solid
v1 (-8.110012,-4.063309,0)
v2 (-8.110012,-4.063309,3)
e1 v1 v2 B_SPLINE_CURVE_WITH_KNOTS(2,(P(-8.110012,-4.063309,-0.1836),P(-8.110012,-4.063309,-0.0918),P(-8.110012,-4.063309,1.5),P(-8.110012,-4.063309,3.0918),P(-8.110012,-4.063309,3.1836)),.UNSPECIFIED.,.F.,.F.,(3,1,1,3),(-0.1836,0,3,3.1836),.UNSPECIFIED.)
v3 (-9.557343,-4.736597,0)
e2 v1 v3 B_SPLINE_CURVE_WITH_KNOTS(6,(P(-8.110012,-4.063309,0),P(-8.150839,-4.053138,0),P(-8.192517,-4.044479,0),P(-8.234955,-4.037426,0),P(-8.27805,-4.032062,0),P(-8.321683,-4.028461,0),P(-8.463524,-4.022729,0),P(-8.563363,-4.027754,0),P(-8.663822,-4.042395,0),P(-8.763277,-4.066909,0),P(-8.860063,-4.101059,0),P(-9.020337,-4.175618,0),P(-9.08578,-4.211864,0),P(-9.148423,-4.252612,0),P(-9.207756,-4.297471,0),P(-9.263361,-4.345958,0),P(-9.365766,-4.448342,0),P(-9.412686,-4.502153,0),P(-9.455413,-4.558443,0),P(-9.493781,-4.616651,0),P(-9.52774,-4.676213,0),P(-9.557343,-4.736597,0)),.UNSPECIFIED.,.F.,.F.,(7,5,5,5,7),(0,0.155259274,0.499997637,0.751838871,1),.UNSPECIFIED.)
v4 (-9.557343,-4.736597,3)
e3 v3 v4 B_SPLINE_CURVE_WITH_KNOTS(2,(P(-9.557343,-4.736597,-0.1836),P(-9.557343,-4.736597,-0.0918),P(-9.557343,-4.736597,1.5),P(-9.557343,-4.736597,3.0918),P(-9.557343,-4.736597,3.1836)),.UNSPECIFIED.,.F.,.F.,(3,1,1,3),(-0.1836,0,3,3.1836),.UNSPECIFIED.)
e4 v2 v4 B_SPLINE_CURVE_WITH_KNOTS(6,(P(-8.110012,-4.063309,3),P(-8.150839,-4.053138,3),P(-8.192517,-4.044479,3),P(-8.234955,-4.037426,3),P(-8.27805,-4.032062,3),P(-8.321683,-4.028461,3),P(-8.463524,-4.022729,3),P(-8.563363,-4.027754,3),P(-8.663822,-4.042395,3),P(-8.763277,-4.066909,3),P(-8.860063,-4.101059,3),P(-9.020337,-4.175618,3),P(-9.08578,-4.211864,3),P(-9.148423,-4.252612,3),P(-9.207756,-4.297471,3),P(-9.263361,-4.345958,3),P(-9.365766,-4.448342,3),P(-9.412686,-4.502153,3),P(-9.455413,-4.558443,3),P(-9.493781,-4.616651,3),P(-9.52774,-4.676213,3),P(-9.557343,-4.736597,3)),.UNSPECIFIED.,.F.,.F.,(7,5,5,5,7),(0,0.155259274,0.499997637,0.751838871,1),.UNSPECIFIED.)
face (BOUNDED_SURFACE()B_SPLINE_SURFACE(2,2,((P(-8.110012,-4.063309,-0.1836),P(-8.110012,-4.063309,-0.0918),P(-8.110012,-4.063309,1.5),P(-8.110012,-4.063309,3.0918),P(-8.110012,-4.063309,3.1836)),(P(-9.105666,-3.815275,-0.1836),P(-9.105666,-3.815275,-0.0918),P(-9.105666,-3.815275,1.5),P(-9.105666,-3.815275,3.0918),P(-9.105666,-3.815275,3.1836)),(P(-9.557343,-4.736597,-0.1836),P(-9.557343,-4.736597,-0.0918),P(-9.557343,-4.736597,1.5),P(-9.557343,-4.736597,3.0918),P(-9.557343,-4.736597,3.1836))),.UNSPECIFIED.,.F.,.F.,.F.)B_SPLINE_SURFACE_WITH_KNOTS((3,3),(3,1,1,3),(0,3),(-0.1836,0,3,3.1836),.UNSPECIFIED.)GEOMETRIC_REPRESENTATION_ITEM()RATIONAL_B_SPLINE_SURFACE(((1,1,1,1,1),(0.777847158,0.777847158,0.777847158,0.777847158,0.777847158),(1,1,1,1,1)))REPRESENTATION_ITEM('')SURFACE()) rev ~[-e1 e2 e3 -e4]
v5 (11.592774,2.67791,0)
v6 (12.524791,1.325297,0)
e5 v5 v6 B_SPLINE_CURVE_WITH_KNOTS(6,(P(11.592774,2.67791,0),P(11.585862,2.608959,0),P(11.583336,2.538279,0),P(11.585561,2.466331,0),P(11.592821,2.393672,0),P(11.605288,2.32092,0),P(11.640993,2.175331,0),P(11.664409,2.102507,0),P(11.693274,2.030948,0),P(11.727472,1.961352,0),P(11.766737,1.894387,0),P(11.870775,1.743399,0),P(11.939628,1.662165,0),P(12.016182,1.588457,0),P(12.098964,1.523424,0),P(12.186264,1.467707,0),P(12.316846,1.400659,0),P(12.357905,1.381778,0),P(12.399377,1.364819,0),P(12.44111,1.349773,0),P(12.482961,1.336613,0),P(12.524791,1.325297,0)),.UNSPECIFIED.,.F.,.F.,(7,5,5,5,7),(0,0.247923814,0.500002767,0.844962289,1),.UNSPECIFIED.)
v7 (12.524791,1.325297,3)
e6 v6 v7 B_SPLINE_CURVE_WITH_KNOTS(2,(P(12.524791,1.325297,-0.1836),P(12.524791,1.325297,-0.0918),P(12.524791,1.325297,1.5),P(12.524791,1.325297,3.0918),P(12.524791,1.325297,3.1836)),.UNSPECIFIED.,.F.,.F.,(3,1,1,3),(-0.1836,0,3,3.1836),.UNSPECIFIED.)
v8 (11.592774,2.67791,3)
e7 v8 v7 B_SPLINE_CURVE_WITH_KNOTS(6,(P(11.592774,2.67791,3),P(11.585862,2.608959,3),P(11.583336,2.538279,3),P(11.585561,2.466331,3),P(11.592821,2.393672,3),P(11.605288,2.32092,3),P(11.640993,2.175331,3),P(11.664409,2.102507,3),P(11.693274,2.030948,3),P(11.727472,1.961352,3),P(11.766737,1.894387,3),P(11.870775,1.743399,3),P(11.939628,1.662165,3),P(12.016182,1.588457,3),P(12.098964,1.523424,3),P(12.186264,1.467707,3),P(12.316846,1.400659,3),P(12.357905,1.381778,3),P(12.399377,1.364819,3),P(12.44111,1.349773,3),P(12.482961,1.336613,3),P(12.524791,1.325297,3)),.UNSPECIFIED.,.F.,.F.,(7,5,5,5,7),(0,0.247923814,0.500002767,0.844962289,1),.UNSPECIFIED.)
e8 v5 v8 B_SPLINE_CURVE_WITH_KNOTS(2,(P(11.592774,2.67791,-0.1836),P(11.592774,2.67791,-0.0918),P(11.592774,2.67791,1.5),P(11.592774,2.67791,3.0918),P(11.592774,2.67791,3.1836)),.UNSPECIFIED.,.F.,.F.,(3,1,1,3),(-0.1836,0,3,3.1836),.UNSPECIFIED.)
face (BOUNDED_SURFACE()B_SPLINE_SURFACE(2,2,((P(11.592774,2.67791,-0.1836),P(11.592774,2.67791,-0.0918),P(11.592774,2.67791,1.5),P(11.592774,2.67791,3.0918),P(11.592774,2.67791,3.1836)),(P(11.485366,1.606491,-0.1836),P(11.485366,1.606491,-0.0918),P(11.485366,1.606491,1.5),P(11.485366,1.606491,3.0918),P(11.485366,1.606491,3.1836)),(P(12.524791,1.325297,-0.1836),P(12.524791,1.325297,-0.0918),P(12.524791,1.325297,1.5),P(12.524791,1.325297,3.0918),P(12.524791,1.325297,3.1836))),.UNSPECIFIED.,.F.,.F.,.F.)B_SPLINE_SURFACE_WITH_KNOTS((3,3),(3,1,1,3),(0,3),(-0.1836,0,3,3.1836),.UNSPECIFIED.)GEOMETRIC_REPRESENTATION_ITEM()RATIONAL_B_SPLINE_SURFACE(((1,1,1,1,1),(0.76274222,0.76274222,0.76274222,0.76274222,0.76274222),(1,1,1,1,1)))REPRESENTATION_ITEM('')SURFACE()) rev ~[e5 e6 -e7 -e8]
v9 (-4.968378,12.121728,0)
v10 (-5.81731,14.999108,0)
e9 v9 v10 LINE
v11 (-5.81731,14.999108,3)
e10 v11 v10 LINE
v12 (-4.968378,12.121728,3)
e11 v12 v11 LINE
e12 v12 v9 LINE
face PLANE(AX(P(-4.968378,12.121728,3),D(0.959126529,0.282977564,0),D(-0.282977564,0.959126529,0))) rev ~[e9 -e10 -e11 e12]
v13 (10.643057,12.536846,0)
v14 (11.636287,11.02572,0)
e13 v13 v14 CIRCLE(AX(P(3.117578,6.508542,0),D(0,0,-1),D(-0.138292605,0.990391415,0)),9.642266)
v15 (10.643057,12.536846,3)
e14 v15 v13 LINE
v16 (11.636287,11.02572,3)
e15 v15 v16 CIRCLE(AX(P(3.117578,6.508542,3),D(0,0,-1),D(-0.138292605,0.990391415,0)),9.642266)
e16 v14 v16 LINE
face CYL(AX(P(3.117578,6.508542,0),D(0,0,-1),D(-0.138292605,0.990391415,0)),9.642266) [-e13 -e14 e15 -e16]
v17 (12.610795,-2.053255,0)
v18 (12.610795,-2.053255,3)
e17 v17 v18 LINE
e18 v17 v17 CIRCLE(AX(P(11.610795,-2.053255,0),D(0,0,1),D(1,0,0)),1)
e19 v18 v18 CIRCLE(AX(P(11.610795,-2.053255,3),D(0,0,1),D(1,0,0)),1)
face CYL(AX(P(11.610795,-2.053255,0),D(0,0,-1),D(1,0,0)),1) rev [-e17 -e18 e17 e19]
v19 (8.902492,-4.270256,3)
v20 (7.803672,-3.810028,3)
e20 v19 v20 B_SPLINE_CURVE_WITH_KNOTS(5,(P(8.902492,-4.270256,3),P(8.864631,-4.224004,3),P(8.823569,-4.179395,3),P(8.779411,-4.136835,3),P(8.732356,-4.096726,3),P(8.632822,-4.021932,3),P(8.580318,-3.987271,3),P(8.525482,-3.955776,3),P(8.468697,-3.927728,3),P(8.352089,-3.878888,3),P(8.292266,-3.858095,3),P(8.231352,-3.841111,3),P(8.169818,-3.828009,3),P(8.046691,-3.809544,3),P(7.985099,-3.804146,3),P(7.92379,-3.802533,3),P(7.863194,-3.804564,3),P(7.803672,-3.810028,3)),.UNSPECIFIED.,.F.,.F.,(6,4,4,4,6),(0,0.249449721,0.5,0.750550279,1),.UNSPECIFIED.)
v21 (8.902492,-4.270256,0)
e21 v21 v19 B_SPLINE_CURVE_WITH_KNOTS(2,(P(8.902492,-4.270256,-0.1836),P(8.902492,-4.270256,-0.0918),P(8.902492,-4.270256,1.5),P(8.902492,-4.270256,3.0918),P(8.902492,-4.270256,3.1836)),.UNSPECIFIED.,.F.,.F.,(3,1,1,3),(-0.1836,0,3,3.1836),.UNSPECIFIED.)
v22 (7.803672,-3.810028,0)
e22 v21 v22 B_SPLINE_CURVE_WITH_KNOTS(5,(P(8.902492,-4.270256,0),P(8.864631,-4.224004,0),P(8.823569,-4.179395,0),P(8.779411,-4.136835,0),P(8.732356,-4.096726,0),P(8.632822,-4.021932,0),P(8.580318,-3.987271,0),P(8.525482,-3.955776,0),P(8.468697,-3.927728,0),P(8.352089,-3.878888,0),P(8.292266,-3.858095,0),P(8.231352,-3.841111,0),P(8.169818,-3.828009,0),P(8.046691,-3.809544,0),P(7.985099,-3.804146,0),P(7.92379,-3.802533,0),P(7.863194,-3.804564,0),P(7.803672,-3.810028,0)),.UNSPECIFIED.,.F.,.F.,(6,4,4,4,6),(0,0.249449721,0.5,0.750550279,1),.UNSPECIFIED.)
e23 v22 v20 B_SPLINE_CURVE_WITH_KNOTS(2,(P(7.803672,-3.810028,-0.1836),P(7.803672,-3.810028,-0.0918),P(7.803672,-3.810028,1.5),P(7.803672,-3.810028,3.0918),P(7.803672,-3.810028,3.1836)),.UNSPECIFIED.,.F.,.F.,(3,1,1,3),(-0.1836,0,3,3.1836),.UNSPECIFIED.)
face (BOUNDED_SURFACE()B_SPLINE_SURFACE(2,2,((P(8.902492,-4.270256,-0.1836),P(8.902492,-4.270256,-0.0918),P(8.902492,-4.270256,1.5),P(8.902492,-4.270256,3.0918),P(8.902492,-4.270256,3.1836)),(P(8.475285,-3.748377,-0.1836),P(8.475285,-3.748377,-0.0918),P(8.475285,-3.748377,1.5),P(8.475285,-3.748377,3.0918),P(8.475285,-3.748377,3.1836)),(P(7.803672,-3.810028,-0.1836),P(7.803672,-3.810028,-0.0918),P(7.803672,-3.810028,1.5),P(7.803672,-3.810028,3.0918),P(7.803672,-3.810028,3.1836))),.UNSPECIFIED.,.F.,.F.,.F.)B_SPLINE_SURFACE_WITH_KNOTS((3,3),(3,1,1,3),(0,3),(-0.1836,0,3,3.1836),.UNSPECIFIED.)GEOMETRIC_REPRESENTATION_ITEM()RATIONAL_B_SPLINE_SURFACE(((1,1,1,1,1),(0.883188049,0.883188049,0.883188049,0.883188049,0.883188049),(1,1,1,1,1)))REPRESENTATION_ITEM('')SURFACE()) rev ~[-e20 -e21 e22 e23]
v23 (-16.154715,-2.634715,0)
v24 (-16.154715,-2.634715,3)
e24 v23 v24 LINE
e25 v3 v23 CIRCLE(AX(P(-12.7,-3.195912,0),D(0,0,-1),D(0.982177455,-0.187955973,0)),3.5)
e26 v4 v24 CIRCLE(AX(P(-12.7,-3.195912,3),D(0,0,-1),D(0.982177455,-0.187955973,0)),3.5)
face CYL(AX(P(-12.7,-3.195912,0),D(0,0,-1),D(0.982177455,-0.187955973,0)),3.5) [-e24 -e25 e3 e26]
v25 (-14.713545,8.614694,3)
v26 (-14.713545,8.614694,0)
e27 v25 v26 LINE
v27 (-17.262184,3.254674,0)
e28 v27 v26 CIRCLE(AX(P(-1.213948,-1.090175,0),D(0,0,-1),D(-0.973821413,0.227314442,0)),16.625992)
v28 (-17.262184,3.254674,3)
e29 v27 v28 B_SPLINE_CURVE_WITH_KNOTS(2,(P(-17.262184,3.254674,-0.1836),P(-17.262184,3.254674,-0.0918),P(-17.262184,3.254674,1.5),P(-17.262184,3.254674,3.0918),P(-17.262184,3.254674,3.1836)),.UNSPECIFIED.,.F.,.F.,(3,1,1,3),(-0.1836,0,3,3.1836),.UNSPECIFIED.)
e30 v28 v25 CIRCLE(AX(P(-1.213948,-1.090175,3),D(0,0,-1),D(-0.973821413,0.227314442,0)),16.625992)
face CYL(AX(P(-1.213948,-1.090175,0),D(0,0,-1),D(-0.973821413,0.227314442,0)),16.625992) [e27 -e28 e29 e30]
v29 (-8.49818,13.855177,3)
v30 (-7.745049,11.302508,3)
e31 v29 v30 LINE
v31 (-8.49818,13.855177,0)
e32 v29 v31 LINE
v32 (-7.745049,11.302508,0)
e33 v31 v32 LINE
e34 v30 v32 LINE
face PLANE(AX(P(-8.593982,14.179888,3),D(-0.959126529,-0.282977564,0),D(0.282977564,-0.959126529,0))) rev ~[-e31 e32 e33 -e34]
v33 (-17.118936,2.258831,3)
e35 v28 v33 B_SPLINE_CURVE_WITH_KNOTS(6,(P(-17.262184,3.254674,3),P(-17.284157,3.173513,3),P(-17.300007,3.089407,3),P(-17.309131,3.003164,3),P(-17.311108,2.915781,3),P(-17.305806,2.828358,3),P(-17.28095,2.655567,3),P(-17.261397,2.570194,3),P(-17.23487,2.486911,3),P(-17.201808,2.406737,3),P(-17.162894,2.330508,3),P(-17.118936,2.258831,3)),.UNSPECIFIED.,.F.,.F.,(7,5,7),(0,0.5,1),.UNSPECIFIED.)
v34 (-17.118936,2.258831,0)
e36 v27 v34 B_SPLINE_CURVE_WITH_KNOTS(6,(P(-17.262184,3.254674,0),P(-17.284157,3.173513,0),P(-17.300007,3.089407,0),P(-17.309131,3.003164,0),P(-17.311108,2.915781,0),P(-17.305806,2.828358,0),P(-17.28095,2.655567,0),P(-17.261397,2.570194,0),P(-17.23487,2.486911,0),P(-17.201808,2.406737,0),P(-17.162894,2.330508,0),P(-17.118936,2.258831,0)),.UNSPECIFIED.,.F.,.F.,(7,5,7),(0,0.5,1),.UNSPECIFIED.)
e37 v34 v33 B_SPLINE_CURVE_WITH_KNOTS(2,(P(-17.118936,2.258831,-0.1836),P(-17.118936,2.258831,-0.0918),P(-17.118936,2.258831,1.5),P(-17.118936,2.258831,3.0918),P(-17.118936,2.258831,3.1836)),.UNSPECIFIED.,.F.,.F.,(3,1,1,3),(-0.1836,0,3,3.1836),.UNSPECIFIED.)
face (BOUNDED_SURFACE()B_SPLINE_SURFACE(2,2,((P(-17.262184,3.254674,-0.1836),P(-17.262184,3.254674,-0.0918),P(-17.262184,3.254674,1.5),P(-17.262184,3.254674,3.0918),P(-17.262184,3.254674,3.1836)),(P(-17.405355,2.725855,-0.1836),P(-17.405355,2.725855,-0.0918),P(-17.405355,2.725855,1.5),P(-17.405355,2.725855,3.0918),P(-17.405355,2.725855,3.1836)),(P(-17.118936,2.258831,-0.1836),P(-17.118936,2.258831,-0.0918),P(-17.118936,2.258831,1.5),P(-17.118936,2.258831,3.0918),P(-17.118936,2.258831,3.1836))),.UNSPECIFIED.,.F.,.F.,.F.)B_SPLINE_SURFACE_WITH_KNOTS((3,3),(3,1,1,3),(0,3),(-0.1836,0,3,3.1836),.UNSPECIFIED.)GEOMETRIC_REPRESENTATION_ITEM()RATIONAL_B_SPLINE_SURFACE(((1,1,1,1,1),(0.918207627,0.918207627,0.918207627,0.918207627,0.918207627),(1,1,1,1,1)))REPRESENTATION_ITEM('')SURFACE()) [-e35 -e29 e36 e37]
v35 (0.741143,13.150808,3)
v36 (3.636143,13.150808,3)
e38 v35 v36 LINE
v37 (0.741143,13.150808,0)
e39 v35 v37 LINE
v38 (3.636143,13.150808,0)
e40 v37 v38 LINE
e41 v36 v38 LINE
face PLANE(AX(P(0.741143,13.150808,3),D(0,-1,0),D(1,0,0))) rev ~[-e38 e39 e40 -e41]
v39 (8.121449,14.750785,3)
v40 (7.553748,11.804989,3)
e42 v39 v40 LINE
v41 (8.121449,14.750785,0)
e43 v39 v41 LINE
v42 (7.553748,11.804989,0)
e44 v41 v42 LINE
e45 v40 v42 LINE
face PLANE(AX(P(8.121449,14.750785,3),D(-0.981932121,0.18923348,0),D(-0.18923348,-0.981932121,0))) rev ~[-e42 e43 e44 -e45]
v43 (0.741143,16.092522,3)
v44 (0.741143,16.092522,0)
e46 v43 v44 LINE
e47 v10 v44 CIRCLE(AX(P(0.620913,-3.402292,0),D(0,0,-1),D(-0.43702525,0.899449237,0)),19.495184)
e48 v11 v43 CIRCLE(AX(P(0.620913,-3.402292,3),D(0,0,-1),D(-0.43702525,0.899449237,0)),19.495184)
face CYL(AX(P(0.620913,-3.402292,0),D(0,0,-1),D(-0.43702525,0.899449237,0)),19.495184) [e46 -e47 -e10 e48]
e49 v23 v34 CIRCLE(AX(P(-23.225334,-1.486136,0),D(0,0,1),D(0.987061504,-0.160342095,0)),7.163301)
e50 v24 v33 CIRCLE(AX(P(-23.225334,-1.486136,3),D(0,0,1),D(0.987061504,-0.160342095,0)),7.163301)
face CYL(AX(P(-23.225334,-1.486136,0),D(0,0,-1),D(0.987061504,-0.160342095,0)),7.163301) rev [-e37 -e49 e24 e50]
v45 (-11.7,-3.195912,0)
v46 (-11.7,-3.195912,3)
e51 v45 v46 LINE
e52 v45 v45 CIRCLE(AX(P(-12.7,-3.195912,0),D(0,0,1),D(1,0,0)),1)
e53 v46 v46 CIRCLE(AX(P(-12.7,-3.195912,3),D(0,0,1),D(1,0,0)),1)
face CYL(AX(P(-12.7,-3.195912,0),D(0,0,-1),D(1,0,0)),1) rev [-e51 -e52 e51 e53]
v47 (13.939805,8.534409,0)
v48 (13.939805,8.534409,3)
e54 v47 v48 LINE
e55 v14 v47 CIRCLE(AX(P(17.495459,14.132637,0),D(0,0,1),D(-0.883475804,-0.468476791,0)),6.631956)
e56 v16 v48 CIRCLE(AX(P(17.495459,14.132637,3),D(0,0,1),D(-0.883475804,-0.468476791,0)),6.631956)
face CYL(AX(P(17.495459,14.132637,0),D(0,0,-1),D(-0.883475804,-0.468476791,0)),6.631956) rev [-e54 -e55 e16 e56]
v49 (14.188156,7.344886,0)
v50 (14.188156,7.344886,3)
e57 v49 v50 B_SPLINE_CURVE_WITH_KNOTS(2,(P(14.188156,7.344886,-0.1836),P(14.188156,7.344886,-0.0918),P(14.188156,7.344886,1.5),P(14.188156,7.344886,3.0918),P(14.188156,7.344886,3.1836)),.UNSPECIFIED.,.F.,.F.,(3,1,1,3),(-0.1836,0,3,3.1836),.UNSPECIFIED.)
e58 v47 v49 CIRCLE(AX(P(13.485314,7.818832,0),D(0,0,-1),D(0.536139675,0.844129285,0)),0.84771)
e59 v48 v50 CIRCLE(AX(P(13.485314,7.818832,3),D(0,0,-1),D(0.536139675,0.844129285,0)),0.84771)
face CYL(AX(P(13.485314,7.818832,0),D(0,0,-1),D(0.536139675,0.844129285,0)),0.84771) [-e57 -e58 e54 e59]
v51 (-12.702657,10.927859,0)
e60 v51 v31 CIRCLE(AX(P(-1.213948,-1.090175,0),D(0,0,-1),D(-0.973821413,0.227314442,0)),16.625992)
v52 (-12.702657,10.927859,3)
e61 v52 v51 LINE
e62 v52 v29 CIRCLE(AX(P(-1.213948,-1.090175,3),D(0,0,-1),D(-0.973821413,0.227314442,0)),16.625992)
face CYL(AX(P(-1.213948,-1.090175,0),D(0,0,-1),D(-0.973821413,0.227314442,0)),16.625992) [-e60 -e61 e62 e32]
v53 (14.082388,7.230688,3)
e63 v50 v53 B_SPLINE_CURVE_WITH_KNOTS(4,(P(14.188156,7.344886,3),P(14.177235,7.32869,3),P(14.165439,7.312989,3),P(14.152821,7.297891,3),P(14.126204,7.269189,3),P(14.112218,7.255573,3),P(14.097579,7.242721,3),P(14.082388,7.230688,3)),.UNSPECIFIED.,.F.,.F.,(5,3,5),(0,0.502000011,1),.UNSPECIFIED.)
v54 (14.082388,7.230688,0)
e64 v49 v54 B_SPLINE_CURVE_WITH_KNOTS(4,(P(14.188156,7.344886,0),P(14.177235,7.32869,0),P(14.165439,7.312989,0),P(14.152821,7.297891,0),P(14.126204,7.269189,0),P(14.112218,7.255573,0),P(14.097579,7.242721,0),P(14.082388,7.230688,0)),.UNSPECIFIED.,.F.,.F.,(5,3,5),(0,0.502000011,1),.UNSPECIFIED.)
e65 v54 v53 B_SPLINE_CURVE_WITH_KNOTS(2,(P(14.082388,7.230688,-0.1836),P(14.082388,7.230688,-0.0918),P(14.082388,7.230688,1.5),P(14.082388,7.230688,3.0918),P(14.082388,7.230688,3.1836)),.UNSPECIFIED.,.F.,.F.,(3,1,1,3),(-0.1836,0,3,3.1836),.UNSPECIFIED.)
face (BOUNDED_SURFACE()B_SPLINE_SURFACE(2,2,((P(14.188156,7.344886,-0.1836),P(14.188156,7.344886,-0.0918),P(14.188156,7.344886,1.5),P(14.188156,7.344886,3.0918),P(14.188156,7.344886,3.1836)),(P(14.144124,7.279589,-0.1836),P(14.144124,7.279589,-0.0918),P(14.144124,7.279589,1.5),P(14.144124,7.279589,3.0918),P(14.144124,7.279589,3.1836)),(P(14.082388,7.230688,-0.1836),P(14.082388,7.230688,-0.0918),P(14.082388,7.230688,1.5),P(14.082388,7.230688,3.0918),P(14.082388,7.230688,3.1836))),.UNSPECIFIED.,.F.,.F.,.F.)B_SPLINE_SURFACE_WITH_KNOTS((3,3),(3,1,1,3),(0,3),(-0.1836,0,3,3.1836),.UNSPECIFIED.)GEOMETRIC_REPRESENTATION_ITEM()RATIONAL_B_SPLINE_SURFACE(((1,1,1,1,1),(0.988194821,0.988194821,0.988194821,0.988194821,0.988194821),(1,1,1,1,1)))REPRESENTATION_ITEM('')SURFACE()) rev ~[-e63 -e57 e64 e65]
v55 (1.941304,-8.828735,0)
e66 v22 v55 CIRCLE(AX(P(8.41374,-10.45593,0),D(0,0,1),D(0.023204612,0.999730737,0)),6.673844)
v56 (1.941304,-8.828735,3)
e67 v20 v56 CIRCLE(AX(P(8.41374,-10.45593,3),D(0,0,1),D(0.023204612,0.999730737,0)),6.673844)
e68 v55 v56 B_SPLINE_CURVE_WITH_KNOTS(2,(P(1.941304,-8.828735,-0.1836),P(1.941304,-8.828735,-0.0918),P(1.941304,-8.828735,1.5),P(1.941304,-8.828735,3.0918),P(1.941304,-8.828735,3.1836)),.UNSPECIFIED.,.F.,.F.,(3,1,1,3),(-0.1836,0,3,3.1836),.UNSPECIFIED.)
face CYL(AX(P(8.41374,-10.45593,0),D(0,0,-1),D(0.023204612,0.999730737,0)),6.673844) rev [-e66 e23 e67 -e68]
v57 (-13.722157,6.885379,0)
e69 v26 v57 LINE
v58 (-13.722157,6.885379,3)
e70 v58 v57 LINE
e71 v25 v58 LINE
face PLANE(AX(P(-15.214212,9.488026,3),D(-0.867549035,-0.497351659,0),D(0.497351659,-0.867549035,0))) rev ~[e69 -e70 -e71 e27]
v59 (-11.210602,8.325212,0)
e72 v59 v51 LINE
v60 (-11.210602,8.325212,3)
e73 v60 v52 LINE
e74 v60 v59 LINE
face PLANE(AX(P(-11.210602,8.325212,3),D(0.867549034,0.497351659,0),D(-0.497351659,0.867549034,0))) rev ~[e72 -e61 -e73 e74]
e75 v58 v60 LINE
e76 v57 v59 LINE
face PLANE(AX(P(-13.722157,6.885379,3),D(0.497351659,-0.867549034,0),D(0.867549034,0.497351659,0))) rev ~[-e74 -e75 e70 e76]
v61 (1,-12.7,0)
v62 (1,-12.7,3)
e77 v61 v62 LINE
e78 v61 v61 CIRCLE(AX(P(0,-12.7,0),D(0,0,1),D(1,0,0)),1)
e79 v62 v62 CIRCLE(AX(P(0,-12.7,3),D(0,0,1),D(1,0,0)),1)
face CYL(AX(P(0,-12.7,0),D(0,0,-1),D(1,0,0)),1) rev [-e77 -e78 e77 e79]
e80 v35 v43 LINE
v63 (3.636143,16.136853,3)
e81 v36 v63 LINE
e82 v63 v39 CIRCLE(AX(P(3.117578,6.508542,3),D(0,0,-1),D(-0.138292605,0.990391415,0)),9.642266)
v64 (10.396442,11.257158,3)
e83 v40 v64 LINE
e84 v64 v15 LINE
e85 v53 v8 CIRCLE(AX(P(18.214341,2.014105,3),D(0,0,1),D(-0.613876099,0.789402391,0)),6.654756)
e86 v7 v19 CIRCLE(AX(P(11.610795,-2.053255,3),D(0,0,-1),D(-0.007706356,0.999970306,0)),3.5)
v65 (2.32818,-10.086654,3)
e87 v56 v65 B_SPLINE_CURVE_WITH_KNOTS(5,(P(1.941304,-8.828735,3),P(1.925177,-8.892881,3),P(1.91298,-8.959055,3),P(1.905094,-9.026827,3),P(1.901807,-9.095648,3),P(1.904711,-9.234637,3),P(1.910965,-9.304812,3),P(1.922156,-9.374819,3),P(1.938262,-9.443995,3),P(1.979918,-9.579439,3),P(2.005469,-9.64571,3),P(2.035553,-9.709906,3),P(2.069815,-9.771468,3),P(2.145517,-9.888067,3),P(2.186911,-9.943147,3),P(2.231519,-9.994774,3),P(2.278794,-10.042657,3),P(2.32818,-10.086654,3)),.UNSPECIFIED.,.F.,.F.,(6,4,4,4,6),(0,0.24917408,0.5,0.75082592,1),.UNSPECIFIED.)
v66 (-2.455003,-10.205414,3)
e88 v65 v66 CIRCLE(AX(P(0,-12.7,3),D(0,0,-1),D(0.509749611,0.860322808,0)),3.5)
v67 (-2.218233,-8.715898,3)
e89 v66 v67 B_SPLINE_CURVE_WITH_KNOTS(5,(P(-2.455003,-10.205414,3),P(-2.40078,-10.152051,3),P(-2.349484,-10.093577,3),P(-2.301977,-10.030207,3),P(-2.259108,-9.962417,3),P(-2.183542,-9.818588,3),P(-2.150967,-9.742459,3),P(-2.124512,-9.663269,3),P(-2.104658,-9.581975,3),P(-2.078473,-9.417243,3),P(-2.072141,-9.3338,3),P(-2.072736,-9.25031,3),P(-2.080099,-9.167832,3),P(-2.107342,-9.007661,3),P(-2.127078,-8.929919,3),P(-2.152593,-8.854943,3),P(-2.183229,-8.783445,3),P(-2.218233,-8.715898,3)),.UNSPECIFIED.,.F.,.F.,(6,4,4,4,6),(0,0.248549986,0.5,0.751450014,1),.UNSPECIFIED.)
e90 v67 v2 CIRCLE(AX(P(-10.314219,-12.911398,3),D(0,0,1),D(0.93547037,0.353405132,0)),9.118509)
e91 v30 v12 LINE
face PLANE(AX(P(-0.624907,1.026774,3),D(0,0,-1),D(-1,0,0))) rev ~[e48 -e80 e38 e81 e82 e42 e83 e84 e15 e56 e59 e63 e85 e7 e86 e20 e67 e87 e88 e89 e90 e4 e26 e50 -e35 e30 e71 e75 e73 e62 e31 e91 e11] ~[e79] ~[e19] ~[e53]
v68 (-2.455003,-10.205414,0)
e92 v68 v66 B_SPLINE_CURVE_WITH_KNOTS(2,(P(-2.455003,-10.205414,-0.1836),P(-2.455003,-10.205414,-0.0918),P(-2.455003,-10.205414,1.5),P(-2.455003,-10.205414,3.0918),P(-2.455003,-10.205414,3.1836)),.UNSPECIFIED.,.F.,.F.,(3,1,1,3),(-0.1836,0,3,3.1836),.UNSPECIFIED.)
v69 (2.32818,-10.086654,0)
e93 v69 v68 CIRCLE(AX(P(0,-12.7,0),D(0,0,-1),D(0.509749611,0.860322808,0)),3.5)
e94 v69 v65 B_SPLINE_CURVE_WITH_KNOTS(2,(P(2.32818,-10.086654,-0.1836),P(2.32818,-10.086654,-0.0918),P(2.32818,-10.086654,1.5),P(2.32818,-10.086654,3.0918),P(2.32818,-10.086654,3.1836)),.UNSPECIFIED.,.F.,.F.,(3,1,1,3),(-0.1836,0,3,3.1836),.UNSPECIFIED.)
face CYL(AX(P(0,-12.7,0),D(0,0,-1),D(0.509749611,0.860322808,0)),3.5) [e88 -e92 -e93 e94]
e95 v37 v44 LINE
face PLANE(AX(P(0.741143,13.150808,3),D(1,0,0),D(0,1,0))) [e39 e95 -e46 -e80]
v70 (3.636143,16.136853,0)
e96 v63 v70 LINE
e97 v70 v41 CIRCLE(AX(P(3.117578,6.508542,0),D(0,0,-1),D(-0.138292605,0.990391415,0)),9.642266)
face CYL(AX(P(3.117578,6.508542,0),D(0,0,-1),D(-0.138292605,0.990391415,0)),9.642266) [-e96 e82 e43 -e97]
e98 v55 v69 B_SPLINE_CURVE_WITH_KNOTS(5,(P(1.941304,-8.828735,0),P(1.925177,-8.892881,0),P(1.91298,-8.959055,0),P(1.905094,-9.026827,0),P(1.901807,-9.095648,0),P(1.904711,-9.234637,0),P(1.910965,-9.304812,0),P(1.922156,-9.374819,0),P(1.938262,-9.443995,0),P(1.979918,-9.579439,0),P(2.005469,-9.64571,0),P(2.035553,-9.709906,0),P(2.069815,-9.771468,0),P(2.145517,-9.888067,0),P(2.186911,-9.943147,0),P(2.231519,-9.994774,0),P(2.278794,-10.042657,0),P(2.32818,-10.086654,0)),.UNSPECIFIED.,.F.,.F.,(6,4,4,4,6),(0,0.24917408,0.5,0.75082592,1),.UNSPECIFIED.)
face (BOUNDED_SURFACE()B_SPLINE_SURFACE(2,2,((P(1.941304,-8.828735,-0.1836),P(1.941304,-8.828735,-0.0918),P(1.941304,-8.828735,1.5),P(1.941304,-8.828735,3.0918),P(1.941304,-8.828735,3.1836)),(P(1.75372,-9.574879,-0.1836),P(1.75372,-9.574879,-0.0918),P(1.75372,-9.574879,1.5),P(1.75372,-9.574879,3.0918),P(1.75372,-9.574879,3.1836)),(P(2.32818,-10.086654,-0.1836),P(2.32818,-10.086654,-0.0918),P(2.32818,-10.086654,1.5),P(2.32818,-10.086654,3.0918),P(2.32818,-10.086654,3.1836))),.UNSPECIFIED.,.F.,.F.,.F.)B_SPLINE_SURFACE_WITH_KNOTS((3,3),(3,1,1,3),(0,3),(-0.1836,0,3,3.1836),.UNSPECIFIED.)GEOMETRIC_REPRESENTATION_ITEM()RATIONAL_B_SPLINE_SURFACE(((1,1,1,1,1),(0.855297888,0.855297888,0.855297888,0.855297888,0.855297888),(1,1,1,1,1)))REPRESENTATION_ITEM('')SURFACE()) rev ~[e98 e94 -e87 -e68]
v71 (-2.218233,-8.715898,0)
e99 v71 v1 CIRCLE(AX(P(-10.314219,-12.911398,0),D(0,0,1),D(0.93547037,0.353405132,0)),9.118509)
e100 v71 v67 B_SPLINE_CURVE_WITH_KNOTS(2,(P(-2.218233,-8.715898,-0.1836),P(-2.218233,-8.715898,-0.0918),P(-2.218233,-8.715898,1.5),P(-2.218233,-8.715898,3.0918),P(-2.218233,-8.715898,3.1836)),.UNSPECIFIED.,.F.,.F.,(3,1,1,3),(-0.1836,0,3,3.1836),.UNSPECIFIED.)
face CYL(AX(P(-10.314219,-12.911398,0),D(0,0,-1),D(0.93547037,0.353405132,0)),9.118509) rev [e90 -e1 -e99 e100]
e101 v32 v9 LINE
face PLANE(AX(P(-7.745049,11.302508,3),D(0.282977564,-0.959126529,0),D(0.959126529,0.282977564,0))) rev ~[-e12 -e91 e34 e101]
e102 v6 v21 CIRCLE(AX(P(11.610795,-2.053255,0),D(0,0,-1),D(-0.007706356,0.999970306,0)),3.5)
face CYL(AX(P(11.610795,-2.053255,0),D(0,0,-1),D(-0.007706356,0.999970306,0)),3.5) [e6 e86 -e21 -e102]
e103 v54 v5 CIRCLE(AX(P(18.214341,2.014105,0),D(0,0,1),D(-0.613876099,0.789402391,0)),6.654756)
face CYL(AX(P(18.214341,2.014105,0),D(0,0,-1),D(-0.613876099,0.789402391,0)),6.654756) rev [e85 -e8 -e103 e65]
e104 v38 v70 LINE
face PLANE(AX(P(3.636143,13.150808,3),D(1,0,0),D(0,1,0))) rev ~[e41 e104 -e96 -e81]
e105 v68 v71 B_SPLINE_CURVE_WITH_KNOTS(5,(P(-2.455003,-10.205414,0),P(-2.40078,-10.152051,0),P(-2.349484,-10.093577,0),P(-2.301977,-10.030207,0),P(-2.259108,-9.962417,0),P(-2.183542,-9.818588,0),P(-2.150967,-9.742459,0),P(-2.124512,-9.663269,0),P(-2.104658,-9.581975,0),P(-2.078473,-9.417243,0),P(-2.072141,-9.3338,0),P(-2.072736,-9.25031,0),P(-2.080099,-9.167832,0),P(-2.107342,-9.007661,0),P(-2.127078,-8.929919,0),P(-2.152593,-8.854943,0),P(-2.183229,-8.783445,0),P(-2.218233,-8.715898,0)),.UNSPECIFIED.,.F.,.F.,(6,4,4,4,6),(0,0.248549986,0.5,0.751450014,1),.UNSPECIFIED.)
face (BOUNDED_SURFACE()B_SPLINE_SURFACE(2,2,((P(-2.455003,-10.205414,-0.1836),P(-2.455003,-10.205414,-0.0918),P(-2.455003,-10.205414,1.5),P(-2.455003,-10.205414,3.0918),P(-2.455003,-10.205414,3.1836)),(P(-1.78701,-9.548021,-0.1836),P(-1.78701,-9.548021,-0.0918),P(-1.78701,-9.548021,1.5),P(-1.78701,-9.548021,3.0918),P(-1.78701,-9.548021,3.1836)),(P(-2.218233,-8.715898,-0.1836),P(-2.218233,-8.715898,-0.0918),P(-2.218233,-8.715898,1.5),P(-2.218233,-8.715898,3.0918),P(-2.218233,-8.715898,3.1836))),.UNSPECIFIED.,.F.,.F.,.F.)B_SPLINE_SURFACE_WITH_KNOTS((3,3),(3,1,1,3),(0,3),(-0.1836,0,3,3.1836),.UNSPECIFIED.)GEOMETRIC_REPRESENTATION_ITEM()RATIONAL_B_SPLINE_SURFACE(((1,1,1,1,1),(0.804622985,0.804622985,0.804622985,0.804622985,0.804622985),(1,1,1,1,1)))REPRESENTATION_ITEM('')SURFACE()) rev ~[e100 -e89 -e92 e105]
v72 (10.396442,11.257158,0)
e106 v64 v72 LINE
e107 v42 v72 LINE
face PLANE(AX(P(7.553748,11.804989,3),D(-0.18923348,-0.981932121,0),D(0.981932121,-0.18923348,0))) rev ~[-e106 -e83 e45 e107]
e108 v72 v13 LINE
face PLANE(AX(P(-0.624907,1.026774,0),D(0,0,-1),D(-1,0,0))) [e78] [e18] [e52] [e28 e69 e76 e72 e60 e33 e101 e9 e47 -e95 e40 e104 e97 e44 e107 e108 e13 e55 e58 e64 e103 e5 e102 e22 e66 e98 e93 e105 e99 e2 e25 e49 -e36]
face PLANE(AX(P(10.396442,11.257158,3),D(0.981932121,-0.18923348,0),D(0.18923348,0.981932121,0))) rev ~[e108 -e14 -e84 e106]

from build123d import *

# Parameters (mm, degrees)
SKETCH_1_R          = 1
EXTRUDE_1_DEPTH     = 3
FILLET_2_R          = 0.508
FILLET_3_R          = 1.27
SKETCH_3_W          = 2.895
SKETCH_3_H          = 3
CUT_EXTRUDE_1_DEPTH = 3


with BuildPart() as part:
    # 스케치1 → 보스-돌출1 (new body)
    with BuildSketch(Plane.XY):
        with BuildLine():
            ThreePointArc((-17.404694621, 2.689152768), (-14.003146094, 9.533383958), (-7.898975086, 14.132637079))
            ThreePointArc((-7.898975086, 14.132637079), (-3.181334345, 15.718511975), (1.784123639, 16.058159386))
            ThreePointArc((1.784123639, 16.058159386), (7.503730287, 15.09544823), (11.636286652, 11.025719632))
            ThreePointArc((11.636286652, 11.025719632), (12.626023912, 9.630255586), (13.939804575, 8.534408829))
            ThreePointArc((13.939804575, 8.534408829), (14.323714016, 7.94412001), (14.129144933, 7.267385039))
            ThreePointArc((14.129144933, 7.267385039), (12.117054941, 4.680354007), (11.583823092, 1.44664105))
            ThreePointArc((11.583823092, 1.44664105), (14.643044666, -3.801243579), (8.56860409, -3.783882772))
            ThreePointArc((8.56860409, -3.783882772), (4.032207962, -5.42180917), (1.784123639, -9.688870172))
            ThreePointArc((1.784123639, -9.688870172), (0, -16.2), (-1.784123639, -9.688870172))
            ThreePointArc((-1.784123639, -9.688870172), (-4.704806794, -5.722399103), (-9.262378909, -3.853758086))
            ThreePointArc((-9.262378909, -3.853758086), (-13.309581542, -6.642419158), (-16.154715264, -2.634714849))
            ThreePointArc((-16.154715264, -2.634714849), (-16.251667385, 0.151195755), (-17.404694621, 2.689152768))
        make_face()
        with Locations((-12.7, -3.195912181)):
            Circle(SKETCH_1_R, mode=Mode.SUBTRACT)
        with Locations((0, -12.7)):
            Circle(SKETCH_1_R, mode=Mode.SUBTRACT)
        with Locations((11.610795337, -2.05325502)):
            Circle(SKETCH_1_R, mode=Mode.SUBTRACT)
    extrude(amount=EXTRUDE_1_DEPTH)

    # 필렛2
    fillet_2_edges = [part.edges().sort_by_distance(p)[0] for p in [
        (14.129144933, 7.267385039, 1.5),
    ]]
    fillet(fillet_2_edges, radius=FILLET_2_R)

    # 필렛3
    fillet_3_edges = [part.edges().sort_by_distance(p)[0] for p in [
        (1.784123639, -9.688870172, 1.5),
        (-1.784123639, -9.688870172, 1.5),
        (-9.262378909, -3.853758086, 1.5),
        (-17.404694621, 2.689152768, 1.5),
        (11.583823092, 1.44664105, 1.5),
        (8.56860409, -3.783882772, 1.5),
    ]]
    fillet(fillet_3_edges, radius=FILLET_3_R)

    # 스케치3 → 컷-돌출1 (cut)
    with BuildSketch(Plane.XY.offset(3)):
        Polygon((-13.722156846, 6.885379209), (-11.210602391, 8.325212263), (-12.702657369, 10.927859366), (-15.214211823, 9.488026313), align=None)
        Polygon((-7.745048824, 11.302508101), (-4.968377523, 12.121728149), (-5.817310215, 14.999107735), (-8.593981516, 14.179887687), align=None)
        with Locations((2.188643344, 14.650807918)):
            Rectangle(SKETCH_3_W, SKETCH_3_H)
        Polygon((7.553748194, 11.804988601), (10.396441684, 11.257157677), (10.964142123, 14.20295404), (8.121448633, 14.750784964), align=None)
    extrude(amount=-CUT_EXTRUDE_1_DEPTH, mode=Mode.SUBTRACT)


solid = part.part
